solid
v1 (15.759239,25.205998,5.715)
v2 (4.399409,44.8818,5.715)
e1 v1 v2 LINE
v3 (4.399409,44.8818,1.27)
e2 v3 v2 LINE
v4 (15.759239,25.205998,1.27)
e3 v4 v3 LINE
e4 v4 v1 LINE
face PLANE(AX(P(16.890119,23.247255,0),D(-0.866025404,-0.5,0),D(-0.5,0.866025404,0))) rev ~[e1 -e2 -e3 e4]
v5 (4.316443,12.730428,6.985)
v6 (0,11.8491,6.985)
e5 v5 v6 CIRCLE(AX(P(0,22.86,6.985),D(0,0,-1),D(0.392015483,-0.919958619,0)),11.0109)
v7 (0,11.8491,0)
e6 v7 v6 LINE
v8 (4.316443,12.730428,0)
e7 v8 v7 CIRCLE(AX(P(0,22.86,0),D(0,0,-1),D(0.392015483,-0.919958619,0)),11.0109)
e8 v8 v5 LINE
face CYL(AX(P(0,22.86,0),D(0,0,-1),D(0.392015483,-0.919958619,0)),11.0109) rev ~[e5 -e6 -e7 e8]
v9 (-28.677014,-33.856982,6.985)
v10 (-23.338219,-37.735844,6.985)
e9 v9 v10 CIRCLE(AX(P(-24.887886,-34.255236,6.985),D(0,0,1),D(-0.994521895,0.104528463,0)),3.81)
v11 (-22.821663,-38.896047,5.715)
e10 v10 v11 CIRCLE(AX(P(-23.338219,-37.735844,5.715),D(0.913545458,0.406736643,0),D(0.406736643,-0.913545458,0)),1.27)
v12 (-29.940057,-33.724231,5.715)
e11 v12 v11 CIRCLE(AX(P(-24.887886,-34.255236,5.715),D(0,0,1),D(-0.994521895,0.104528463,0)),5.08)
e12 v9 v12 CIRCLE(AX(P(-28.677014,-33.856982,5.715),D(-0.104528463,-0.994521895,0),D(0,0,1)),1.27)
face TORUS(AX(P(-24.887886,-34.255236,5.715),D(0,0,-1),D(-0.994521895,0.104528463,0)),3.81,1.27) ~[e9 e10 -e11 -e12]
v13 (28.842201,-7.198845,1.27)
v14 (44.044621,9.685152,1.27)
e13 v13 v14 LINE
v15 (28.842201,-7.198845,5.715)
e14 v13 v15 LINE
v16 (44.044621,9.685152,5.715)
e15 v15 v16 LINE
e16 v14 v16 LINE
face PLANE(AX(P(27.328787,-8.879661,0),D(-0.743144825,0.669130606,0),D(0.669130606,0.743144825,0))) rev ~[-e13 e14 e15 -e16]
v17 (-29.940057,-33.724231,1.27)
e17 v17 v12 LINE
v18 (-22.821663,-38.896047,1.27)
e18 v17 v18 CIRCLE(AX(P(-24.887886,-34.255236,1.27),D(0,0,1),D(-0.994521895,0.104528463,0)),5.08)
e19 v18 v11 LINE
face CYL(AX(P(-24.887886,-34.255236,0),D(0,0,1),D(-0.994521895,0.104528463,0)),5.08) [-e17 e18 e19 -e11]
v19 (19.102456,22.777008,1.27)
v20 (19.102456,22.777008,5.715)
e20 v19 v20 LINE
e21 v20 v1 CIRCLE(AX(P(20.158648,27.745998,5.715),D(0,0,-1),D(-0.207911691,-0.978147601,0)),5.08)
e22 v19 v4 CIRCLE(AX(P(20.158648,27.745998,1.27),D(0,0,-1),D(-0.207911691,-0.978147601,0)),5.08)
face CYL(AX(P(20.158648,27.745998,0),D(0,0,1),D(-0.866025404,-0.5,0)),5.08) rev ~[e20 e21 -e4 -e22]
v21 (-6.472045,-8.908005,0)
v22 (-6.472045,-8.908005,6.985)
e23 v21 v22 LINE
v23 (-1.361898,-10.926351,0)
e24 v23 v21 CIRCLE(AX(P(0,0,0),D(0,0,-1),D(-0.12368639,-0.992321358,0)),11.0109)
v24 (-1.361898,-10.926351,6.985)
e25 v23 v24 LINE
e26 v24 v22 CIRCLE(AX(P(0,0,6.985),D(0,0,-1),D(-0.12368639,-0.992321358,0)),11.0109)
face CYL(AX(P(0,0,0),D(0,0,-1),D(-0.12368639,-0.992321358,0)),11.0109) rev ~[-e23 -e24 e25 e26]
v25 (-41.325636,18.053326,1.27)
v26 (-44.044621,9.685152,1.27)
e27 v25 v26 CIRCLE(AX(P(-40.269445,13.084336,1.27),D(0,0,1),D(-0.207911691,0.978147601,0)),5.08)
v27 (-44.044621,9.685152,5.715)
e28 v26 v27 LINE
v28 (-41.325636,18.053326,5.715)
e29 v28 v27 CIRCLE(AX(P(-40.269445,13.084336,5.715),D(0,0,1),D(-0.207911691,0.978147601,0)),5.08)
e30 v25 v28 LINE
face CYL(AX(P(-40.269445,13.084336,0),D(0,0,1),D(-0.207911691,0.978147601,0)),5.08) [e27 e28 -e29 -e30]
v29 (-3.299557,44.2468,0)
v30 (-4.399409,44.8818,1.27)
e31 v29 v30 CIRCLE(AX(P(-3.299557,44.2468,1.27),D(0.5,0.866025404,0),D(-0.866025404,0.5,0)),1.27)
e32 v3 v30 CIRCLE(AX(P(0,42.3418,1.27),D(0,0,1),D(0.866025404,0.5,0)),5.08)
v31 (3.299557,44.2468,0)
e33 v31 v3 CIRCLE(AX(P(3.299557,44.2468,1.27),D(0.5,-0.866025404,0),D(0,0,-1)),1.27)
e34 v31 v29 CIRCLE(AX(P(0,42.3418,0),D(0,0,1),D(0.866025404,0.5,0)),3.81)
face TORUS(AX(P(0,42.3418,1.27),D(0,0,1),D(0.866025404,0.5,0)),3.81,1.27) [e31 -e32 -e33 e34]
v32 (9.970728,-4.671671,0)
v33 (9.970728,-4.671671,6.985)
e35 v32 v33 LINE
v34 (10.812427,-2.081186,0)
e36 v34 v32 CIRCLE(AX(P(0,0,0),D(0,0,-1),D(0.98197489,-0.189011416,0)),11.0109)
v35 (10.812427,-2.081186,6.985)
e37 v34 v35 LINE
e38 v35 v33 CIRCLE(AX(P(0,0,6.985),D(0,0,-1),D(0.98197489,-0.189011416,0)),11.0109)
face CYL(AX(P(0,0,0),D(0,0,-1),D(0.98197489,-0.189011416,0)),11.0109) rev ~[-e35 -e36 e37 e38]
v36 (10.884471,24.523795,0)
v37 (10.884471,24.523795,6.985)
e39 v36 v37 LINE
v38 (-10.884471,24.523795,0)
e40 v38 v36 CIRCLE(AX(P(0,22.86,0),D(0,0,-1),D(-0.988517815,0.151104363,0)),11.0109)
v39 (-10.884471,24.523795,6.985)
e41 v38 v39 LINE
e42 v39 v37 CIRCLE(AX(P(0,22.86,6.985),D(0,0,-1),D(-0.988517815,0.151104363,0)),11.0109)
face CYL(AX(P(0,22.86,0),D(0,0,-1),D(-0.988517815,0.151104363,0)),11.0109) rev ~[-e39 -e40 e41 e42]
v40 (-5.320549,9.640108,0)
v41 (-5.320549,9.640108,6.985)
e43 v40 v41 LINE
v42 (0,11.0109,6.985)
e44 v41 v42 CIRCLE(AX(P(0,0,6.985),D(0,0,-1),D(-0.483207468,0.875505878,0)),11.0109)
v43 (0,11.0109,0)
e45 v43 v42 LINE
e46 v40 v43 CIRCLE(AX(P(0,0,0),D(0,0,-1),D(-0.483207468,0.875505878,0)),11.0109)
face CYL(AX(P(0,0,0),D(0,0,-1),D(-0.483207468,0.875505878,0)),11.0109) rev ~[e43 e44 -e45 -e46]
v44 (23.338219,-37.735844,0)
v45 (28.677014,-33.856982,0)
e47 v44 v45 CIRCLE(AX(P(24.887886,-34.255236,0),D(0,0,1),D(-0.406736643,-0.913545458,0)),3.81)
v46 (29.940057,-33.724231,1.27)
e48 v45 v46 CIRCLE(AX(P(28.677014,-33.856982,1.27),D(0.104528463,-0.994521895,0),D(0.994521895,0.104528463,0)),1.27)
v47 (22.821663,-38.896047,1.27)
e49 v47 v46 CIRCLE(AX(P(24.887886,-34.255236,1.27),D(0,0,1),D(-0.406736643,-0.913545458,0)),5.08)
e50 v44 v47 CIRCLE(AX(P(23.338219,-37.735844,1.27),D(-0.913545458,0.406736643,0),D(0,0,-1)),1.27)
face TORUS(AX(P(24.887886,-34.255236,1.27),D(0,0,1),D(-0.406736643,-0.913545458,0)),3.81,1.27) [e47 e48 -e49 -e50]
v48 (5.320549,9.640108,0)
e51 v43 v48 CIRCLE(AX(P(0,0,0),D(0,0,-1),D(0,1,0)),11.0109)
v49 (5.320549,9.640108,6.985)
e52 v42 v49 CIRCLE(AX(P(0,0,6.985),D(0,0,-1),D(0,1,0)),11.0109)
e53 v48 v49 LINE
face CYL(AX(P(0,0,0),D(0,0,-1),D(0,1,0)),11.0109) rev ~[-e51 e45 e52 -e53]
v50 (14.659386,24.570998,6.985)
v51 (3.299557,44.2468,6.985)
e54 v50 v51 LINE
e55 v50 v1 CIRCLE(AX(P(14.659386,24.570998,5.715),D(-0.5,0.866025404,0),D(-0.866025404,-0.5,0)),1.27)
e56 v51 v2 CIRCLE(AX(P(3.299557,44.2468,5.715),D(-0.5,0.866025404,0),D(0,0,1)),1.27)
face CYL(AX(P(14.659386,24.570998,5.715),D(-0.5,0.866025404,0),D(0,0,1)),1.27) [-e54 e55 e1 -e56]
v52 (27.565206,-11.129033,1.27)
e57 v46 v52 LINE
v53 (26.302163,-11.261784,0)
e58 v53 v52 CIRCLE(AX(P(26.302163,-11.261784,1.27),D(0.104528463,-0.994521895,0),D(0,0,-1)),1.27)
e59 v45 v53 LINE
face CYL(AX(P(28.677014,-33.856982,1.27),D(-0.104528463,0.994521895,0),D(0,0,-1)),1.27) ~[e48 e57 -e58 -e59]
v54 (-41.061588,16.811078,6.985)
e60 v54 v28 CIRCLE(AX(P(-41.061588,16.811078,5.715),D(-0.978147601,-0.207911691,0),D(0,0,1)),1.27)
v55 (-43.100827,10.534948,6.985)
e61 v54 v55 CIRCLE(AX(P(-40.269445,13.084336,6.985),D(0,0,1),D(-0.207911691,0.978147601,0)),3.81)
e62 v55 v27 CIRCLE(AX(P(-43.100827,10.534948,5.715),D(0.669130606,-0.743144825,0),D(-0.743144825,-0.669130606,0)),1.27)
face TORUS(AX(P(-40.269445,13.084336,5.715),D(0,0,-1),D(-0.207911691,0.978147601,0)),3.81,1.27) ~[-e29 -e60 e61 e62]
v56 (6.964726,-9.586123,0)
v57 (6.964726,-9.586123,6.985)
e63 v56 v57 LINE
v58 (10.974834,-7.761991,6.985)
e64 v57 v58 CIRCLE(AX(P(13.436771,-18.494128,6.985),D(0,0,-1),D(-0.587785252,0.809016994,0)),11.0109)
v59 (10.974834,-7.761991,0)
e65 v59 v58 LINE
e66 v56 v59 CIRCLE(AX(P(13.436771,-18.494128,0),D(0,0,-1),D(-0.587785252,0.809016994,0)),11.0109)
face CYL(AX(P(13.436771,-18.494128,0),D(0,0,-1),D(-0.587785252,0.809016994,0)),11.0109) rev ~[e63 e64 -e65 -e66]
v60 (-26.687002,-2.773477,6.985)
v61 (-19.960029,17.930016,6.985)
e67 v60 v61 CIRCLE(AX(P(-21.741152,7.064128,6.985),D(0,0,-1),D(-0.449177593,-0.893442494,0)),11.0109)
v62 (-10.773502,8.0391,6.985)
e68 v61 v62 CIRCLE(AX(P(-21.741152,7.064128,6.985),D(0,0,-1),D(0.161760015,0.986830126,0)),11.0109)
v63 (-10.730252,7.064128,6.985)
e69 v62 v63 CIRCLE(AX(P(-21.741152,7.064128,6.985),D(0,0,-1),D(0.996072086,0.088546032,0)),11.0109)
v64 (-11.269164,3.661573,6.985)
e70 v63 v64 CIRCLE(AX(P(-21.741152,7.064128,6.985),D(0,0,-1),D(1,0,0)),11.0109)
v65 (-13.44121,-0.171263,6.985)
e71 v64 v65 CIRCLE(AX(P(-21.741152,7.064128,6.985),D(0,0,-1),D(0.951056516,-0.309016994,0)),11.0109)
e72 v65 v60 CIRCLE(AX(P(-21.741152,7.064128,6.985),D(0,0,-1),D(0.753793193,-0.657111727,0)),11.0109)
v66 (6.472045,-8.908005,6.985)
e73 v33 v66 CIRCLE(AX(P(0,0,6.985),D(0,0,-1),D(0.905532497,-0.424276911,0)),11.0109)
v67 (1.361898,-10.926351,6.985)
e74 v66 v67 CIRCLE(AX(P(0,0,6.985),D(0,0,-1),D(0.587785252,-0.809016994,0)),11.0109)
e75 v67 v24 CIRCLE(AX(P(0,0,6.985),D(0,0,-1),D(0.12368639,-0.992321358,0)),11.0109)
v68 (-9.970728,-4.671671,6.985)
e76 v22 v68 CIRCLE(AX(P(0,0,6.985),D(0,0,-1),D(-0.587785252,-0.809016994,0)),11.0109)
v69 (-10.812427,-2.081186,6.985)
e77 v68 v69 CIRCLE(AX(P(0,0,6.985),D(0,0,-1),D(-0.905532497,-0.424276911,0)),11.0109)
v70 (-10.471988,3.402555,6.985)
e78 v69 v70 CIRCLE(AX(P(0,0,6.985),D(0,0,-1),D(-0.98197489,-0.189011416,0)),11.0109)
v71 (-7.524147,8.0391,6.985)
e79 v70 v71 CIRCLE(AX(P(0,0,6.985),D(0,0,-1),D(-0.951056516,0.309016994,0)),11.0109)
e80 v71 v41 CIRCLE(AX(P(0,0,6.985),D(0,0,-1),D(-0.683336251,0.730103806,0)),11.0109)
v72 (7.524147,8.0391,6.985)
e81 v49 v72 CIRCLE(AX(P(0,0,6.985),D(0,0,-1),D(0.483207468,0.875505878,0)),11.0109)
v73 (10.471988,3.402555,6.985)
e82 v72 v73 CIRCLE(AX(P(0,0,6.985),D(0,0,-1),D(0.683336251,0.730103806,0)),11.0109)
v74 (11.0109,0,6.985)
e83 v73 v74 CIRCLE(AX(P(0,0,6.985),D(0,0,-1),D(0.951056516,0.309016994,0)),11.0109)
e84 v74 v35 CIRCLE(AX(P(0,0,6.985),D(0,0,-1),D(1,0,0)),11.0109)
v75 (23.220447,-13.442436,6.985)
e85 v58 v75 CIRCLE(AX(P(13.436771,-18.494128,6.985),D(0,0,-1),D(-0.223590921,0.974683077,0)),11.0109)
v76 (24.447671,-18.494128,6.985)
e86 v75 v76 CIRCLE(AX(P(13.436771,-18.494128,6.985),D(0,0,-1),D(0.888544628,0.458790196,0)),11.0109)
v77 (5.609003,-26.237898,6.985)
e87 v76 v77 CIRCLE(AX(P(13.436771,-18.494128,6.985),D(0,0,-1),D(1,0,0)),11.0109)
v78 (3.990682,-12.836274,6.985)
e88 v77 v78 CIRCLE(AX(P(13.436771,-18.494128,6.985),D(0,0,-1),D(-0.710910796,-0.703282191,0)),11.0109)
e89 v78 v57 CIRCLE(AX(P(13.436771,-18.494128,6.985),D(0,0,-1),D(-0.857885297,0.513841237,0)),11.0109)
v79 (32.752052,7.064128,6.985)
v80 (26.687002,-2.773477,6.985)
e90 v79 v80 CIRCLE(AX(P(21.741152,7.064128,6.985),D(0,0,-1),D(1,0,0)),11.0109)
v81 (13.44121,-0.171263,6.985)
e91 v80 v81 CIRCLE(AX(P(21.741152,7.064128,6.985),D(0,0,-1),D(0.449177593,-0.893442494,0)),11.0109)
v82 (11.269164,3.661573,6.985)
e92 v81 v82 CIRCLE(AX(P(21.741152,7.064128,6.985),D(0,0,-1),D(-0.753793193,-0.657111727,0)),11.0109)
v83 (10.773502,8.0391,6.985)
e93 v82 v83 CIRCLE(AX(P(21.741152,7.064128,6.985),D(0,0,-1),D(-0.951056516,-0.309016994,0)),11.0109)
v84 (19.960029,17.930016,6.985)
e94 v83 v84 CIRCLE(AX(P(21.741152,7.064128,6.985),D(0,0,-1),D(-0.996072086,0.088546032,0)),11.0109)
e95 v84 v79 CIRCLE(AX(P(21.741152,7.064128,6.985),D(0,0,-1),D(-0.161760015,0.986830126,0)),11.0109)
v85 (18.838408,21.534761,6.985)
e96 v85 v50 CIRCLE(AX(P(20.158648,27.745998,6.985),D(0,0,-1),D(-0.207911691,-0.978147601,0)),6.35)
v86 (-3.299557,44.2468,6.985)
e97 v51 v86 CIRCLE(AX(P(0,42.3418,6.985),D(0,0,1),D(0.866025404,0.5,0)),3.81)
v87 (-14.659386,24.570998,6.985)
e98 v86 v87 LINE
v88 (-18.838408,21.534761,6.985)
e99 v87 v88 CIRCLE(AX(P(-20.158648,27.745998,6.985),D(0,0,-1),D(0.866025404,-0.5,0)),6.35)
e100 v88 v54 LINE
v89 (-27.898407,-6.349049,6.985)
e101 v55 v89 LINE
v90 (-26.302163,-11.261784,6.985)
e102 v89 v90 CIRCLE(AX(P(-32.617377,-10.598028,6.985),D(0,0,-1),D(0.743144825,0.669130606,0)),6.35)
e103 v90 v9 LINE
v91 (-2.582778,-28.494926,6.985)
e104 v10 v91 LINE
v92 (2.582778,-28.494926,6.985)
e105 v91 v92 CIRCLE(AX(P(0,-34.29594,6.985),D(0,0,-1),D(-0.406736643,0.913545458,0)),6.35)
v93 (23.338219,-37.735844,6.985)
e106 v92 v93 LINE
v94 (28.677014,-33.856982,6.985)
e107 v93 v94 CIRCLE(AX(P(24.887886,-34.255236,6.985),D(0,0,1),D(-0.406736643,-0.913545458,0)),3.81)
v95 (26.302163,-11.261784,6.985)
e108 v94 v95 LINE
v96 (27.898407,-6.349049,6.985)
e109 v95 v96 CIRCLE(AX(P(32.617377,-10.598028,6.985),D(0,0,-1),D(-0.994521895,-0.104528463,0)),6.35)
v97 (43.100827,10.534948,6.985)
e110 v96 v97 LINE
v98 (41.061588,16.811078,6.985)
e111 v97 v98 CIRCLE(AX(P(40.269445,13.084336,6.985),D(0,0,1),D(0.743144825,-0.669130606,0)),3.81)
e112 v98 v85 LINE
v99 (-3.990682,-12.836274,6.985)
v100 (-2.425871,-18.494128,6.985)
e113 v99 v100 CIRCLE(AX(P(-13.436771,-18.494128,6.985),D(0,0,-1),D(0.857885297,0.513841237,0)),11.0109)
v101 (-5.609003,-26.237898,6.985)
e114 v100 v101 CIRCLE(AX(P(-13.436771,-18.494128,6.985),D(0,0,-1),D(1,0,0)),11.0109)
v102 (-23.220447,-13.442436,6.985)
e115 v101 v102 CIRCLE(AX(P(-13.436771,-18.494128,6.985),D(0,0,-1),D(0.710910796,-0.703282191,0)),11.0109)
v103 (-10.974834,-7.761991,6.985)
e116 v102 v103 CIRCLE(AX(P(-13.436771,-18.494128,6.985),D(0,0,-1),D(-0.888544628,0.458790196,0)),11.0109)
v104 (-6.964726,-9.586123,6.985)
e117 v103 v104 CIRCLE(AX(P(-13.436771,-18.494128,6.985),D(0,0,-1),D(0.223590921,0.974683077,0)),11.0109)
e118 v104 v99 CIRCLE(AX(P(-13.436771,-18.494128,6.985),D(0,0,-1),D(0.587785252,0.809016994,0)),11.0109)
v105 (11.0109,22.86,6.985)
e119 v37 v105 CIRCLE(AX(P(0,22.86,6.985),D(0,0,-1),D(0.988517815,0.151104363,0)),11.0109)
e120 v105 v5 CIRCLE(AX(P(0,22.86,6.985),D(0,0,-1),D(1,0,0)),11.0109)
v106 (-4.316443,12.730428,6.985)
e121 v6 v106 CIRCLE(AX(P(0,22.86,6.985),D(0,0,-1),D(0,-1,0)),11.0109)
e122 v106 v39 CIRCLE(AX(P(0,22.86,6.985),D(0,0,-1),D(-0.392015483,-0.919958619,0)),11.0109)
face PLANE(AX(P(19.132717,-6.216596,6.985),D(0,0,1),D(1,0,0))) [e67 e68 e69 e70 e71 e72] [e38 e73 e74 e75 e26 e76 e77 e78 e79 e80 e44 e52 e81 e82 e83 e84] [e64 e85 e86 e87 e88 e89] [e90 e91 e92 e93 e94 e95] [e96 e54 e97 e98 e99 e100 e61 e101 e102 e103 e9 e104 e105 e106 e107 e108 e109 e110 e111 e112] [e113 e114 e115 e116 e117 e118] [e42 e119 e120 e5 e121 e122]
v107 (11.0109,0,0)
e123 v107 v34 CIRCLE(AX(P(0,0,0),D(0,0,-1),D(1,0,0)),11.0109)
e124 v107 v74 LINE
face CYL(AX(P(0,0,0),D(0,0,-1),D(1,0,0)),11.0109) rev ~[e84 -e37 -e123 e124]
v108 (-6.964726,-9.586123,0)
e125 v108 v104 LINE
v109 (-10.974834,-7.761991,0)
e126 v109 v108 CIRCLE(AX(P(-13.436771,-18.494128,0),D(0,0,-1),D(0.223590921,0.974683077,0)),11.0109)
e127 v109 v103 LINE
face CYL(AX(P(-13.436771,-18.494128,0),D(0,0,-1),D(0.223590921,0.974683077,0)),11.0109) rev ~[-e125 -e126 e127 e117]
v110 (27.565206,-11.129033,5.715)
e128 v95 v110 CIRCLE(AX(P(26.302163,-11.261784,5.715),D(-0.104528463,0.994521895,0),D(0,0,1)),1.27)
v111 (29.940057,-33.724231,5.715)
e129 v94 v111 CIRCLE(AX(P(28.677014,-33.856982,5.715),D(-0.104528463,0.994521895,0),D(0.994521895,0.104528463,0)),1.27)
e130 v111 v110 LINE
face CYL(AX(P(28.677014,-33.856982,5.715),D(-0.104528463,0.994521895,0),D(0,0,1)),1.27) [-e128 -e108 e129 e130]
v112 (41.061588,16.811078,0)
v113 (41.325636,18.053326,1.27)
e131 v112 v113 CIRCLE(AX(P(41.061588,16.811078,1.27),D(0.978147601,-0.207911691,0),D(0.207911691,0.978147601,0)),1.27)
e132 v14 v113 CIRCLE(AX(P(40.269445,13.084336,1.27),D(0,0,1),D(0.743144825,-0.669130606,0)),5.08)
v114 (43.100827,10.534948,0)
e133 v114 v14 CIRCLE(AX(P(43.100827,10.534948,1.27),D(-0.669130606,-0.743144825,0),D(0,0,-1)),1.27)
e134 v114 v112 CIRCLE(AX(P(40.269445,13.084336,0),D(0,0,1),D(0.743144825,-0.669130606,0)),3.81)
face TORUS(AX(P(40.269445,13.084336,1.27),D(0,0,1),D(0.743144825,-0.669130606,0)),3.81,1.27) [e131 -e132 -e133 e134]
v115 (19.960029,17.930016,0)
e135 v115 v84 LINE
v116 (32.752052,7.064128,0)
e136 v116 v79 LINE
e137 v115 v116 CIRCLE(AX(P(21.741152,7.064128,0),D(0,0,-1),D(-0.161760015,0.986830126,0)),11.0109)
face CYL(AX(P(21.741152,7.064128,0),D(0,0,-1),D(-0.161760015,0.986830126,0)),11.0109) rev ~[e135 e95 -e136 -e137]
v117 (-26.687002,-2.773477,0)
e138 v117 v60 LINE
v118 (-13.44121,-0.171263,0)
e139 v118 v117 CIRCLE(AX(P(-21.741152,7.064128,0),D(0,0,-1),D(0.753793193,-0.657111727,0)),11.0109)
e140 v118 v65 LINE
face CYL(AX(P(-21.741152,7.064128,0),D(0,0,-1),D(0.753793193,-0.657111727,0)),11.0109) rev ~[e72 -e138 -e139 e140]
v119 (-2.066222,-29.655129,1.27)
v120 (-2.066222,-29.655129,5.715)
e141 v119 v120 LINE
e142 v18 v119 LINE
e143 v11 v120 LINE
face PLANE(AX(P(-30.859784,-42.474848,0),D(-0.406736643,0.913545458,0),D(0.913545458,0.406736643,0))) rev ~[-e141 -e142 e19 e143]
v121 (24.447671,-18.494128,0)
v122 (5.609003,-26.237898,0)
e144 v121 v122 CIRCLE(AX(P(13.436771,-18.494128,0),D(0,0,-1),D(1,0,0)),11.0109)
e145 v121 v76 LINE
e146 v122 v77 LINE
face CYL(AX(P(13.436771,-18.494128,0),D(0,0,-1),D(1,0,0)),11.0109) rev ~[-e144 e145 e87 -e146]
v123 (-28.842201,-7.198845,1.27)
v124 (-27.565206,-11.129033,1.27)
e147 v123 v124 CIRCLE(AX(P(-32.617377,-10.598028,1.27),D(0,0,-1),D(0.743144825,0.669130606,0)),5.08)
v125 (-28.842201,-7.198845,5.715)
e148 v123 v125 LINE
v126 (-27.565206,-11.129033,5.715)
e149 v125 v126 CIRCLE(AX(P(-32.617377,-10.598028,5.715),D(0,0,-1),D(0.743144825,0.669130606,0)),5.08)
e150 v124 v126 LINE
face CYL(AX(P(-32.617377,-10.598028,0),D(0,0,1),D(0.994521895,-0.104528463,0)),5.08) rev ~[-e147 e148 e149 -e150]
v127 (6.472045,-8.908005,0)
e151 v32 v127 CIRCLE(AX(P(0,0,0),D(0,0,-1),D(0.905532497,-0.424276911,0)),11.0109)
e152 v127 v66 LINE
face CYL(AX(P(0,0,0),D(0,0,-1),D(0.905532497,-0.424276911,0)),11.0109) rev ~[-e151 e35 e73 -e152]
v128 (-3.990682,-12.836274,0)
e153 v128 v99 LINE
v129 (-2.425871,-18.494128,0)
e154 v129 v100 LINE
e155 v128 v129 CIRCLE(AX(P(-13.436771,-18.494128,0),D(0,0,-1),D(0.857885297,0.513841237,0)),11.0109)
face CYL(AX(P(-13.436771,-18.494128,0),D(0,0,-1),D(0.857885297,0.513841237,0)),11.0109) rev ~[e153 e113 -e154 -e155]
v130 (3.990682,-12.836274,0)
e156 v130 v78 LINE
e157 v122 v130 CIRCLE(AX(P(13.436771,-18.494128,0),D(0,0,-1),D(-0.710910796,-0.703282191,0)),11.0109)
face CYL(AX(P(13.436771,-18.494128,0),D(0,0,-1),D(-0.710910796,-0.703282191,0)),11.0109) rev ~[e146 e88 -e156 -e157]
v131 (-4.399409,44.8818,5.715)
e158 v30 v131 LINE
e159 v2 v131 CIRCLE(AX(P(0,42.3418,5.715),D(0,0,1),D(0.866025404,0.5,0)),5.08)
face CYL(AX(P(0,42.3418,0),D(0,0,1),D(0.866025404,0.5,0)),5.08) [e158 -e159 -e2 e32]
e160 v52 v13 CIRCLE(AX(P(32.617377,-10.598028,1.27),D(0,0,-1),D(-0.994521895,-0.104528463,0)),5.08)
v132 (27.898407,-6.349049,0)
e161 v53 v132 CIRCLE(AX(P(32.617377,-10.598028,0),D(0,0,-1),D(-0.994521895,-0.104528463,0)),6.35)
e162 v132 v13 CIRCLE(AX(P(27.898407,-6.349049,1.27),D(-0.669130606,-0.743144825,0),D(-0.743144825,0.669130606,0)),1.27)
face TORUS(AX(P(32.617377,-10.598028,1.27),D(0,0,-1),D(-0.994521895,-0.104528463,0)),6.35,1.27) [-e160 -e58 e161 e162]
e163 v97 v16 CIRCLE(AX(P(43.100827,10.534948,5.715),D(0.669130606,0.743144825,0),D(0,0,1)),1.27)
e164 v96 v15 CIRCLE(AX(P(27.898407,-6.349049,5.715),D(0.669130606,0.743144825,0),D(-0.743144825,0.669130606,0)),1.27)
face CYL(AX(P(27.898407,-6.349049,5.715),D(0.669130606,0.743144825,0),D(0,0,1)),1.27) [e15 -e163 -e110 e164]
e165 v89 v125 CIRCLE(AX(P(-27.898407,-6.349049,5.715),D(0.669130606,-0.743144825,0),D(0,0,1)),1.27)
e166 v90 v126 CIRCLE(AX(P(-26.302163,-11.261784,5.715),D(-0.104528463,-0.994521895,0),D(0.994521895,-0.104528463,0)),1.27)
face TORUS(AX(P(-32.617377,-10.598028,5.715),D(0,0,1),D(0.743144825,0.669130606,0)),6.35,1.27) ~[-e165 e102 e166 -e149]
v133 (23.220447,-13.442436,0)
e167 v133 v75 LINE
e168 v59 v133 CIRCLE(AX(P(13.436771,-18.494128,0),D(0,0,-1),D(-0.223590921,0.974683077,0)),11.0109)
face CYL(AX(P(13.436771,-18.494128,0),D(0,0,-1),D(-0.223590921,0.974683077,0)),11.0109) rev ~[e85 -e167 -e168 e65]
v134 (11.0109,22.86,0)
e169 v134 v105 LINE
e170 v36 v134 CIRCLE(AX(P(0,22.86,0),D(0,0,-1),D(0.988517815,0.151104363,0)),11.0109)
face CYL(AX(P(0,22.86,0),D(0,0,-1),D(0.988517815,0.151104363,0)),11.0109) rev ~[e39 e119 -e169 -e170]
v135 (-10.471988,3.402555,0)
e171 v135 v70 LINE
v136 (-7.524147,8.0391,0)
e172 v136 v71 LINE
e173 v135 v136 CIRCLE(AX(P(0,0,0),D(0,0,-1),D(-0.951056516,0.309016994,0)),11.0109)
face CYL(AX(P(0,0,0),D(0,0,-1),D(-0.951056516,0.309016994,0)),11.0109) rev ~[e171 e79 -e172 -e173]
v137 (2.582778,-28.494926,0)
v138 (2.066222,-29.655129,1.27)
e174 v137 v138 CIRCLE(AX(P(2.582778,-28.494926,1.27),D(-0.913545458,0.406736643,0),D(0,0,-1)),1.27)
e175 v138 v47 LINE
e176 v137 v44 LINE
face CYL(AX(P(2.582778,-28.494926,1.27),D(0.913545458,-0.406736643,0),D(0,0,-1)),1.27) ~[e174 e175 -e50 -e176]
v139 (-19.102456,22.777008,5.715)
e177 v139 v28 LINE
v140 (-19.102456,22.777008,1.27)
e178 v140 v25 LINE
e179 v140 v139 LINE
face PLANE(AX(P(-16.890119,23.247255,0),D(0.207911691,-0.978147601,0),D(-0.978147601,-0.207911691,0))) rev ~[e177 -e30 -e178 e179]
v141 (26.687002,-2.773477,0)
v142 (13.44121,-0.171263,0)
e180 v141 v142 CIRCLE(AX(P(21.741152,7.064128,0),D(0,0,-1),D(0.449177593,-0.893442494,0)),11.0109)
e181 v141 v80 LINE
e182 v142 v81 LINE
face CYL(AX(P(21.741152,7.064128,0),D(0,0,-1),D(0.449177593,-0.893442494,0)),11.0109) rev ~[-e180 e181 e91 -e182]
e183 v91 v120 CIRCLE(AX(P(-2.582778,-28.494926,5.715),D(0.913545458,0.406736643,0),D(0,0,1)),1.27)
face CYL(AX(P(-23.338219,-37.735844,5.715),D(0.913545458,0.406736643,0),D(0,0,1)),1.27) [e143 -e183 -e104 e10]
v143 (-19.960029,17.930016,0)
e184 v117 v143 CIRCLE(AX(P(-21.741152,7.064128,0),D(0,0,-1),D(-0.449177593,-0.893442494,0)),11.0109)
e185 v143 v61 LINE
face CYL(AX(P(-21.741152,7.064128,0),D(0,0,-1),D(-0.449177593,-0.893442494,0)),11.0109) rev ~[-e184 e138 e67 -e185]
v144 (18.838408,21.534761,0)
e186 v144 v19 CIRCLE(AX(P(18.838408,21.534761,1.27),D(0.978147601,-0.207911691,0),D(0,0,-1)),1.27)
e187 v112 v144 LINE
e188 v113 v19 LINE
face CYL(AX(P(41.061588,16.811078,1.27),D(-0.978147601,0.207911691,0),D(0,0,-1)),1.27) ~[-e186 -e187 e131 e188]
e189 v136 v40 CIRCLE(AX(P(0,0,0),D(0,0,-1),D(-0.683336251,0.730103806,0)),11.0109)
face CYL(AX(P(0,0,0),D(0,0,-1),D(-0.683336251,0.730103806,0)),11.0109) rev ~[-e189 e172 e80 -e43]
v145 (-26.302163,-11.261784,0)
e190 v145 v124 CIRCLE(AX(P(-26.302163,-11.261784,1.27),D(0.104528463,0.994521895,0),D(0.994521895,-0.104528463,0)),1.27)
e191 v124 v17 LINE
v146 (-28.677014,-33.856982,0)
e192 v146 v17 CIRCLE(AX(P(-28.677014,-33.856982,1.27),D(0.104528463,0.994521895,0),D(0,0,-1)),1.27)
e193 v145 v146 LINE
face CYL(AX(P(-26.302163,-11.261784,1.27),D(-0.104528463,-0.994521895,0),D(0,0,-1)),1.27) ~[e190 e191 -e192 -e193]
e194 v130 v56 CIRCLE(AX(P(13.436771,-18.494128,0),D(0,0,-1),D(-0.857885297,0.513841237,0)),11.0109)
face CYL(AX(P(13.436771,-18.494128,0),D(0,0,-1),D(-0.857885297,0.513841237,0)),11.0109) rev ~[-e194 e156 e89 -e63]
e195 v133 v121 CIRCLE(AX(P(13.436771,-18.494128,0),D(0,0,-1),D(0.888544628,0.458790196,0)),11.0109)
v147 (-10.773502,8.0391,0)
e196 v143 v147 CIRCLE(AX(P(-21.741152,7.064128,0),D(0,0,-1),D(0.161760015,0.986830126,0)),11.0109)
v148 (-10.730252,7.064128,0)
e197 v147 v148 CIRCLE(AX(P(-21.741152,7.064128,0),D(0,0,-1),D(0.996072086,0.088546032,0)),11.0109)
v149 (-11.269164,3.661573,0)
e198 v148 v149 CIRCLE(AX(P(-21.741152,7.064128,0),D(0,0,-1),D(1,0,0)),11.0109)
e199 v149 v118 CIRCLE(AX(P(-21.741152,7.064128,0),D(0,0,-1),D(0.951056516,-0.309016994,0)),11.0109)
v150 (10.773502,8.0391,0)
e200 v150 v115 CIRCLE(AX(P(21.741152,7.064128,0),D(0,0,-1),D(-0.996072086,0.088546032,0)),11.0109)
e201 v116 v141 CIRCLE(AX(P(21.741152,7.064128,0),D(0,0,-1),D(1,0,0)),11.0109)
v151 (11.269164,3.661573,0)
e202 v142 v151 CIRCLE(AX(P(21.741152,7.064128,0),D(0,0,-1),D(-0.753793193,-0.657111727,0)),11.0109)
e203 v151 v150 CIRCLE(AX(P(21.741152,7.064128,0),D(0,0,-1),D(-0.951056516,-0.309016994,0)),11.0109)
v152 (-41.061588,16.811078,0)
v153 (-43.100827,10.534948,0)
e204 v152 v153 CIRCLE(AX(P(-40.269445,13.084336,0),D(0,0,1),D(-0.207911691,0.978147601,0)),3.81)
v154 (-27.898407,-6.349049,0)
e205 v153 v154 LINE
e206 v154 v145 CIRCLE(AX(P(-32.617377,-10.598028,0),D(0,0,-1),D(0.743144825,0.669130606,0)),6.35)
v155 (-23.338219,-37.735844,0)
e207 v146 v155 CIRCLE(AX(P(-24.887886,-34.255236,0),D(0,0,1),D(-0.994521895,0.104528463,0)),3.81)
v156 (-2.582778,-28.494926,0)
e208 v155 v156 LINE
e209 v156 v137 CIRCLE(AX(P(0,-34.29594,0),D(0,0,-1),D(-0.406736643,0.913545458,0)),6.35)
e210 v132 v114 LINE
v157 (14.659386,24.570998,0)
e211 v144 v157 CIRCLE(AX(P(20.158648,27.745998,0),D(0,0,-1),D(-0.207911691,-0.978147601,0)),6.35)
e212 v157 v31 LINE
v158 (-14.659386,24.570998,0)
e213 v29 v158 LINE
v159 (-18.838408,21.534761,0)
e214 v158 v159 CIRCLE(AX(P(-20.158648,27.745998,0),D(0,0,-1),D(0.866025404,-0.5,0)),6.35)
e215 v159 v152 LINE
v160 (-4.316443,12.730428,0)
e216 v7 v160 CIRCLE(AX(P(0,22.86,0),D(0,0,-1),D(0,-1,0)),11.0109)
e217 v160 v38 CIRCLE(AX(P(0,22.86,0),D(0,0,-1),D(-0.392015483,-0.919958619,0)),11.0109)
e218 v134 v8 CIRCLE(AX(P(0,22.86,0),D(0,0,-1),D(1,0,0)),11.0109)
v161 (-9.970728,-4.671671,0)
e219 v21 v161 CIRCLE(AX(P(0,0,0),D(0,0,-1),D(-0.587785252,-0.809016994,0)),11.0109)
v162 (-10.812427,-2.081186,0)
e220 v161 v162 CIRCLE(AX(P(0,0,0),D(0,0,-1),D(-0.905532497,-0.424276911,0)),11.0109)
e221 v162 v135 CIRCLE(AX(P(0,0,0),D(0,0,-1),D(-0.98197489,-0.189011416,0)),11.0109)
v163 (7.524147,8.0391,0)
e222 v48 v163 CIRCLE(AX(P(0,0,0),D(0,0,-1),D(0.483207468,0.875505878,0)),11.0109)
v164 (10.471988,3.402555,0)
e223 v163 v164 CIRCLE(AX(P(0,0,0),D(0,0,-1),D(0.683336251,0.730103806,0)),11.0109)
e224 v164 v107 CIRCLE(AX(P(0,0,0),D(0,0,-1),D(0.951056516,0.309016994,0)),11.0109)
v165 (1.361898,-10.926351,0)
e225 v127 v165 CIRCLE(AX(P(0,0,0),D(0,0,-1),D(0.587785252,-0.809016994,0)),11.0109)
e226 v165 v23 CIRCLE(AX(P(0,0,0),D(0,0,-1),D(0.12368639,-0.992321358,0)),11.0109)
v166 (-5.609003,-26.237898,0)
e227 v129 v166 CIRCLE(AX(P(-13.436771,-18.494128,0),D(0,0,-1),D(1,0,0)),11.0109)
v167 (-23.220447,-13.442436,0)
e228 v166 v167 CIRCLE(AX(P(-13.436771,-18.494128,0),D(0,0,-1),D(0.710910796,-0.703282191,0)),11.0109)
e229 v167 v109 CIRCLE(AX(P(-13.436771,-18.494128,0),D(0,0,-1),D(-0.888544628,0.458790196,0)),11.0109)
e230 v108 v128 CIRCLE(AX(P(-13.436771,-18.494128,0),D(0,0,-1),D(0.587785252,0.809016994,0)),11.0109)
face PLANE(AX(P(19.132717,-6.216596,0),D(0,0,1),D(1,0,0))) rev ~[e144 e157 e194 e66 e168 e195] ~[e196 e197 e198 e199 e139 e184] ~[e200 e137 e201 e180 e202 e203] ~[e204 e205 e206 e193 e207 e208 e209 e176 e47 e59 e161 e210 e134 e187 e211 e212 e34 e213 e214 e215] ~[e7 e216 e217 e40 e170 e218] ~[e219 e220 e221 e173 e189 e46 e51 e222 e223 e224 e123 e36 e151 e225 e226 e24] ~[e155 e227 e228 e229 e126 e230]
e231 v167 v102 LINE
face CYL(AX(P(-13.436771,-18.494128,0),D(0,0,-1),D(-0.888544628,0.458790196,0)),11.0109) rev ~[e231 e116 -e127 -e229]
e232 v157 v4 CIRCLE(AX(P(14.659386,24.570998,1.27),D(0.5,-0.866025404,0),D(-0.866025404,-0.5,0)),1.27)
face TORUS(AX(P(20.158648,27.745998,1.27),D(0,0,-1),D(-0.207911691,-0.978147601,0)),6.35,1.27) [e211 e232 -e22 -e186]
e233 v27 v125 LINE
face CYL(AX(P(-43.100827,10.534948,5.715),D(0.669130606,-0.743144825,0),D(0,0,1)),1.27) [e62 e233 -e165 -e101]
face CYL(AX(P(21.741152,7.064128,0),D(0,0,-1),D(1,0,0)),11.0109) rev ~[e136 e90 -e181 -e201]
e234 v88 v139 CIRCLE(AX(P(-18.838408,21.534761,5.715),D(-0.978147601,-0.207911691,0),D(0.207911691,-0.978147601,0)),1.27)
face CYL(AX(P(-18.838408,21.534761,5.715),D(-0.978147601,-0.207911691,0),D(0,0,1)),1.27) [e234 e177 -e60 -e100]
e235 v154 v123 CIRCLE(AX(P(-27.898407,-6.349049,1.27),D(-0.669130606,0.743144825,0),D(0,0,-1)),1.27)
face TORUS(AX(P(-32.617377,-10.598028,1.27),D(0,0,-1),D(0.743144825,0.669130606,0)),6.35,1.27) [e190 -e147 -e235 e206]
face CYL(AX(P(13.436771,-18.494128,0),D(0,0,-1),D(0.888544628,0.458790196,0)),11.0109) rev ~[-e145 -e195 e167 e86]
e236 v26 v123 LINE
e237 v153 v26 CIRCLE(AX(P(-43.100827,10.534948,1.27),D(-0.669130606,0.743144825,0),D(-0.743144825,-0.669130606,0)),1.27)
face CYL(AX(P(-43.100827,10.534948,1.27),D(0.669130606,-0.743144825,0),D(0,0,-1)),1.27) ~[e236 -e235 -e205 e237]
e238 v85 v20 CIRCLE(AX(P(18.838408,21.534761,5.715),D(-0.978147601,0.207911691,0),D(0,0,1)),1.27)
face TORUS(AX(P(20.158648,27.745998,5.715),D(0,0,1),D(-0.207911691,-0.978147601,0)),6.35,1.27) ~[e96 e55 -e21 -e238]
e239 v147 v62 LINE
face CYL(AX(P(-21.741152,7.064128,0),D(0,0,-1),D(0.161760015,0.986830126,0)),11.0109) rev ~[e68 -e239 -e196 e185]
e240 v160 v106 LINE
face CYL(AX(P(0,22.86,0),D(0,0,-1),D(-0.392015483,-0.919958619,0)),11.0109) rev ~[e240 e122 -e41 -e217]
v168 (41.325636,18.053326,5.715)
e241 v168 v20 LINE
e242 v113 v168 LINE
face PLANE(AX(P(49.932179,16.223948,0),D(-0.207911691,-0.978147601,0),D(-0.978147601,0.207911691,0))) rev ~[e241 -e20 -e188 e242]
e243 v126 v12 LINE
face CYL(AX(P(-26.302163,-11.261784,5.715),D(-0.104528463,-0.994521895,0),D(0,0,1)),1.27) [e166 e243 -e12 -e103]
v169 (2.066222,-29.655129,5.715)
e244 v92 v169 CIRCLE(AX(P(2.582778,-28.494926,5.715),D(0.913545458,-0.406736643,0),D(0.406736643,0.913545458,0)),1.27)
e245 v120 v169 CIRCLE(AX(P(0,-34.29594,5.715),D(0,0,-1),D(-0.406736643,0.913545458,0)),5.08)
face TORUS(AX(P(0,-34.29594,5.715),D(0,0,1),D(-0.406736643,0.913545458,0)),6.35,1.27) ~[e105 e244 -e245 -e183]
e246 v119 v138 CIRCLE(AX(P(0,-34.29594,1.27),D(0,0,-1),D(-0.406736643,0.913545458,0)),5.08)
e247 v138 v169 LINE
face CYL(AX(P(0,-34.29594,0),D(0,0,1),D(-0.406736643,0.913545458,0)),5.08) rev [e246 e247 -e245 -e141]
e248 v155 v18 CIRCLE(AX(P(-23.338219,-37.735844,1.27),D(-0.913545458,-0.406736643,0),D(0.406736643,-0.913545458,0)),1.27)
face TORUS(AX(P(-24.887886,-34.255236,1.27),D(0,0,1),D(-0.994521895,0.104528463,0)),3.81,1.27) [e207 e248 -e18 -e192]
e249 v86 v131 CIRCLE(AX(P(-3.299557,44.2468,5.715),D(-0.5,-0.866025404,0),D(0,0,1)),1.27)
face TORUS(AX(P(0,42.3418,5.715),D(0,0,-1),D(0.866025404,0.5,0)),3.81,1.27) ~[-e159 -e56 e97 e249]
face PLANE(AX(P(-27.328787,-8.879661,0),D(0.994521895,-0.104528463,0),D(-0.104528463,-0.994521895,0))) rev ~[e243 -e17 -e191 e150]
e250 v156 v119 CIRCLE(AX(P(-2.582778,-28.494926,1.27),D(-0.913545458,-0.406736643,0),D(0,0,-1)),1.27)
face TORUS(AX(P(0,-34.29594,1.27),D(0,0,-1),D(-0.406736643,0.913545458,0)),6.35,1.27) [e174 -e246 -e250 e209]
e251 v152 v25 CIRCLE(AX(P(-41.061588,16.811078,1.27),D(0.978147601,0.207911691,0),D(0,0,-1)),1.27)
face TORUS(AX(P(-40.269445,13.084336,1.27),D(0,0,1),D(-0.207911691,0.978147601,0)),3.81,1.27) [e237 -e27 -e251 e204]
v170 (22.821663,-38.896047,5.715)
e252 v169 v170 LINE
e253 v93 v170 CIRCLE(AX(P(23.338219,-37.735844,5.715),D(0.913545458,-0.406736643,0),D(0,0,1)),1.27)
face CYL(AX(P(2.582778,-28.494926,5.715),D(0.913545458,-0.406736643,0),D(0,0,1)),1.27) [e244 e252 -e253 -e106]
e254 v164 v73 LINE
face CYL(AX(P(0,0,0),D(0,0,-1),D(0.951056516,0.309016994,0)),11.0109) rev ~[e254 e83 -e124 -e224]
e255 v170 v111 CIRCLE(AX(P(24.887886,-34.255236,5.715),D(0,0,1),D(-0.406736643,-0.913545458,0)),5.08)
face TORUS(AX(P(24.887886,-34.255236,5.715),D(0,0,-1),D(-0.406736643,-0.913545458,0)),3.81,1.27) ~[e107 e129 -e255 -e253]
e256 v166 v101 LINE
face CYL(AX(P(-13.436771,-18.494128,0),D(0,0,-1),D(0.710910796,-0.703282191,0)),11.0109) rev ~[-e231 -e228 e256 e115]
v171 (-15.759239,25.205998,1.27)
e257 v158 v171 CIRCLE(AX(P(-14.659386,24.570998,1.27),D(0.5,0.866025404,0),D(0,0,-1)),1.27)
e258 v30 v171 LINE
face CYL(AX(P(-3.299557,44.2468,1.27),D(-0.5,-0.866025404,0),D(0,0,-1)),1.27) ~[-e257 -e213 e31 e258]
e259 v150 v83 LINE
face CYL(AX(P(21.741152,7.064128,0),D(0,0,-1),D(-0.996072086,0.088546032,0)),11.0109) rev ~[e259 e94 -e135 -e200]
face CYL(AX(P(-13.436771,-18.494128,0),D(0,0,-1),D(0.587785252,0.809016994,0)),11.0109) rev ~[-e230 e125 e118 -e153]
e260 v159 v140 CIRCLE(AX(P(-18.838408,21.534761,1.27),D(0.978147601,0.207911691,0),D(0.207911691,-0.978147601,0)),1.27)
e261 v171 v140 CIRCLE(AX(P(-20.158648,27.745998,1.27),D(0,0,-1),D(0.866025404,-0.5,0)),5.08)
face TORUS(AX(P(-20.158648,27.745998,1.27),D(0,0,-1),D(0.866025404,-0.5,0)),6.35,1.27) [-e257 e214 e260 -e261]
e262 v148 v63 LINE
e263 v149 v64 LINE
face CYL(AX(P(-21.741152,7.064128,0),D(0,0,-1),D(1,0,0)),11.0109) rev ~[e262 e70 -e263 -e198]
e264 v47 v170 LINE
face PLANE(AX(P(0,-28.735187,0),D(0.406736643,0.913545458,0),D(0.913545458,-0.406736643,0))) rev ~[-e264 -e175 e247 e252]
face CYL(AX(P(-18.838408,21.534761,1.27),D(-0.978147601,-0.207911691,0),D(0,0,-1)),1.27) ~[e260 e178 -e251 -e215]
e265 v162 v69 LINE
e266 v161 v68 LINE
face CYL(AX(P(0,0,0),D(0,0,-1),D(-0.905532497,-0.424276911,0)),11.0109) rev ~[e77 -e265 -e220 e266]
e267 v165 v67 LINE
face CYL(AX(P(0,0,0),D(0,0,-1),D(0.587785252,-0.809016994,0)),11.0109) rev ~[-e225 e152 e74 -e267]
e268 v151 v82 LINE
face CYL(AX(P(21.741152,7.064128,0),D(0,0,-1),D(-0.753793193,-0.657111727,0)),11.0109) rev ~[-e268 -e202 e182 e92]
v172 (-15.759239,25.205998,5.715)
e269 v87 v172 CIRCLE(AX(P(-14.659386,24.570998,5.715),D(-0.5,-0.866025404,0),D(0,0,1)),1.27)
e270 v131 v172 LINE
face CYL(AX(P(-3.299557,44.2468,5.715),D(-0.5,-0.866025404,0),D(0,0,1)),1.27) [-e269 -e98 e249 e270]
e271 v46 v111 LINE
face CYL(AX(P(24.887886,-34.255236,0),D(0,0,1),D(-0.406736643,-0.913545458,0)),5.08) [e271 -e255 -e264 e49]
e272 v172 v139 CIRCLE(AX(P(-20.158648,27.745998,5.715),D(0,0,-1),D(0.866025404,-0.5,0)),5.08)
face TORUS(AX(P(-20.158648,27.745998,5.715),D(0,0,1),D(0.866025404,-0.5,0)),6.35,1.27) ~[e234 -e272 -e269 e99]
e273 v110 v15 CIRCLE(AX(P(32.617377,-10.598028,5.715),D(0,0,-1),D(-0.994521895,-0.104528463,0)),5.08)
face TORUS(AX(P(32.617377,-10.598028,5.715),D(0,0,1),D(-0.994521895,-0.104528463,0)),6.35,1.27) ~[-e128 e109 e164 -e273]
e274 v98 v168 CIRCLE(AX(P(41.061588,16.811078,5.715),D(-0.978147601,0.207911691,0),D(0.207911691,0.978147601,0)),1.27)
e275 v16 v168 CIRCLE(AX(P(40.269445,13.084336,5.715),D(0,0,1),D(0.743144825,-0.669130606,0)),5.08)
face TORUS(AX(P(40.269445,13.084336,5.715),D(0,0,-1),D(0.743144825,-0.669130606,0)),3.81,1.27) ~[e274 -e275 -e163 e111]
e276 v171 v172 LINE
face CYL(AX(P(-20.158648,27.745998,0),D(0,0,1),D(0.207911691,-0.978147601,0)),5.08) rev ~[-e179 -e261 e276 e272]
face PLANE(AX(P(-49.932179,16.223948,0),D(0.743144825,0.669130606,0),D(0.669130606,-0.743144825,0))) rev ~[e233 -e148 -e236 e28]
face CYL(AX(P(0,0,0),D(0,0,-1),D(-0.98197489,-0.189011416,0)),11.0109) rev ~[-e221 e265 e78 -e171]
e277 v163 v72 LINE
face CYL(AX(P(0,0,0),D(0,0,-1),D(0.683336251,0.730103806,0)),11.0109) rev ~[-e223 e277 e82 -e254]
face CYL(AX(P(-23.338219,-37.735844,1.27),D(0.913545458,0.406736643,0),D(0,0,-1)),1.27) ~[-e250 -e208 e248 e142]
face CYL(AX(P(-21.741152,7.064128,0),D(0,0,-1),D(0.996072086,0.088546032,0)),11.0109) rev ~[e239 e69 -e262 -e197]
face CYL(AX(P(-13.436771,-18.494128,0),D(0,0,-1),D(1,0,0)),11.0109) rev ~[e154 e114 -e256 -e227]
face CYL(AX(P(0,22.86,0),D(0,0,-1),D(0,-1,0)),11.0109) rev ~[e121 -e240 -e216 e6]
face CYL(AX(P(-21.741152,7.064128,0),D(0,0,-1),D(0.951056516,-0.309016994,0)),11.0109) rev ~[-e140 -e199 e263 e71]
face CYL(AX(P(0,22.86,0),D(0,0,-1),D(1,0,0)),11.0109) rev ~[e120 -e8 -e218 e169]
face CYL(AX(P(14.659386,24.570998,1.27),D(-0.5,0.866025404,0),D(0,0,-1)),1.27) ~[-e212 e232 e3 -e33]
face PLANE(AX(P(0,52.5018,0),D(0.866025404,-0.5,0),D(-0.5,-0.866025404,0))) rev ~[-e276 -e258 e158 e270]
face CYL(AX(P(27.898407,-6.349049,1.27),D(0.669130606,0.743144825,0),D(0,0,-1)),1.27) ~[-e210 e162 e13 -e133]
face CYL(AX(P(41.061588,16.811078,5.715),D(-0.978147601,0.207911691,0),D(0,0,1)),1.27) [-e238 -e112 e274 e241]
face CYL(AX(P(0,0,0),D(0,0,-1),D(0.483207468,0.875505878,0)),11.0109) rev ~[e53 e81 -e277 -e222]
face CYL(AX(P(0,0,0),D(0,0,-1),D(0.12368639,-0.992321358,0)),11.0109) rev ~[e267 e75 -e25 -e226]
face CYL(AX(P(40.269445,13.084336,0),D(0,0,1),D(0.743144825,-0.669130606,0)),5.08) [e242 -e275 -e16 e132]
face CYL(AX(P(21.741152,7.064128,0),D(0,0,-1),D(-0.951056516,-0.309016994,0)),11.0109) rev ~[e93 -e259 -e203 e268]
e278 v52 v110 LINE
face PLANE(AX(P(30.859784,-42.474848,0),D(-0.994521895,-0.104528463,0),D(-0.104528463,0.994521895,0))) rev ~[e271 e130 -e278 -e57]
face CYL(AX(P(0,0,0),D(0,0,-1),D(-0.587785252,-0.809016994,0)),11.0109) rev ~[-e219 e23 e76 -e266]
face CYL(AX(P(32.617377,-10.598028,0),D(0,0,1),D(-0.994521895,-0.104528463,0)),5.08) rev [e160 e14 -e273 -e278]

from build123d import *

# Parameters (mm, degrees)
F1_DEPTH = 6.985
F2_R     = 5.08
F3_R     = 5.08
F4_R     = 1.27
F5_R     = 1.27


with BuildPart() as f1:
    # F0 (on Top) → F1 (new body)
    with BuildSketch(Plane.XY):
        with BuildLine():
            Line((13.4412104934, -0.1712630266), (10.8124273162, -2.0811858017))
            ThreePointArc((10.8124273162, -2.0811858017), (10.4719881953, -3.4025552234), (9.9707277708, -4.6716706359))
            Line((9.9707277708, -4.6716706359), (10.9748335954, -7.7619906019))
            ThreePointArc((10.9748335954, -7.7619906019), (18.0702175637, -8.5055805227), (23.2204469124, -13.442435522))
            Line((23.2204469124, -13.442435522), (27.3287873031, -8.8796612689))
            Line((27.3287873031, -8.8796612689), (26.6870015238, -2.7734774636))
            ThreePointArc((26.6870015238, -2.7734774636), (19.6185678945, -3.7402481997), (13.4412104934, -0.1712630266))
        make_face()
        with BuildLine():
            ThreePointArc((5.3205491095, 9.6401076749), (6.4720446345, 8.9080052234), (7.5241471277, 8.0391))
            Line((7.5241471277, 8.0391), (10.7735018328, 8.0391))
            ThreePointArc((10.7735018328, 8.0391), (13.6732921003, 14.5574292363), (19.960028611, 17.9300163252))
            Line((19.960028611, 17.9300163252), (16.8901194246, 23.2472550106))
            Line((16.8901194246, 23.2472550106), (10.8844708144, 24.5237950298))
            ThreePointArc((10.8844708144, 24.5237950298), (10.9792472078, 23.6942958469), (11.0109, 22.86))
            ThreePointArc((11.0109, 22.86), (9.1860721795, 16.789086006), (4.3164432849, 12.7304276409))
            Line((4.3164432849, 12.7304276409), (5.3205491095, 9.6401076749))
        make_face()
        with BuildLine():
            ThreePointArc((32.7520519625, 7.0641284914), (31.1139363339, 1.2856484198), (26.6870015238, -2.7734774636))
            Line((26.6870015238, -2.7734774636), (27.3287873031, -8.8796612689))
            Line((27.3287873031, -8.8796612689), (49.9321790072, 16.2239484353))
            Line((49.9321790072, 16.2239484353), (16.8901194246, 23.2472550106))
            Line((16.8901194246, 23.2472550106), (19.960028611, 17.9300163252))
            ThreePointArc((19.960028611, 17.9300163252), (28.869551071, 15.4561392731), (32.7520519625, 7.0641284914))
        make_face()
        with BuildLine():
            Line((3.99068165, -12.8362740124), (1.3618984728, -10.9263512372))
            ThreePointArc((1.3618984728, -10.9263512372), (0, -11.0109), (-1.3618984728, -10.9263512372))
            Line((-1.3618984728, -10.9263512372), (-3.99068165, -12.8362740124))
            ThreePointArc((-3.99068165, -12.8362740124), (-2.8242814664, -15.5589985926), (-2.4258708674, -18.4941284914))
            ThreePointArc((-2.4258708674, -18.4941284914), (-3.2526978614, -22.6803649657), (-5.6090031852, -26.2378983694))
            Line((-5.6090031852, -26.2378983694), (0, -28.7351874834))
            Line((0, -28.7351874834), (5.6090031852, -26.2378983694))
            ThreePointArc((5.6090031852, -26.2378983694), (2.5052834618, -19.8141670934), (3.99068165, -12.8362740124))
        make_face()
        with BuildLine():
            Line((27.3287873031, -8.8796612689), (23.2204469124, -13.442435522))
            ThreePointArc((23.2204469124, -13.442435522), (24.1364670634, -15.8948170204), (24.4476708674, -18.4941284914))
            ThreePointArc((24.4476708674, -18.4941284914), (17.6230073417, -28.6782014974), (5.6090031852, -26.2378983694))
            Line((5.6090031852, -26.2378983694), (0, -28.7351874834))
            Line((0, -28.7351874834), (30.8597837588, -42.4748484353))
            Line((30.8597837588, -42.4748484353), (27.3287873031, -8.8796612689))
        make_face()
        with BuildLine():
            ThreePointArc((-7.5241471277, 8.0391), (-6.4720446345, 8.9080052234), (-5.3205491095, 9.6401076749))
            Line((-5.3205491095, 9.6401076749), (-4.3164432849, 12.7304276409))
            ThreePointArc((-4.3164432849, 12.7304276409), (-9.6196583076, 17.5025665796), (-10.8844708144, 24.5237950298))
            Line((-10.8844708144, 24.5237950298), (-16.8901194246, 23.2472550106))
            Line((-16.8901194246, 23.2472550106), (-19.960028611, 17.9300163252))
            ThreePointArc((-19.960028611, 17.9300163252), (-13.6732921003, 14.5574292363), (-10.7735018328, 8.0391))
            Line((-10.7735018328, 8.0391), (-7.5241471277, 8.0391))
        make_face()
        with BuildLine():
            Line((10.8844708144, 24.5237950298), (16.8901194246, 23.2472550106))
            Line((16.8901194246, 23.2472550106), (0, 52.5018))
            Line((0, 52.5018), (-16.8901194246, 23.2472550106))
            Line((-16.8901194246, 23.2472550106), (-10.8844708144, 24.5237950298))
            ThreePointArc((-10.8844708144, 24.5237950298), (0, 33.8709), (10.8844708144, 24.5237950298))
        make_face()
        with BuildLine():
            Line((-10.9748335954, -7.7619906019), (-9.9707277708, -4.6716706359))
            ThreePointArc((-9.9707277708, -4.6716706359), (-10.4719881953, -3.4025552234), (-10.8124273162, -2.0811858017))
            Line((-10.8124273162, -2.0811858017), (-13.4412104934, -0.1712630266))
            ThreePointArc((-13.4412104934, -0.1712630266), (-19.6185678945, -3.7402481997), (-26.6870015238, -2.7734774636))
            Line((-26.6870015238, -2.7734774636), (-27.3287873031, -8.8796612689))
            Line((-27.3287873031, -8.8796612689), (-23.2204469124, -13.442435522))
            ThreePointArc((-23.2204469124, -13.442435522), (-18.0702175637, -8.5055805227), (-10.9748335954, -7.7619906019))
        make_face()
        with BuildLine():
            Line((-30.8597837588, -42.4748484353), (0, -28.7351874834))
            Line((0, -28.7351874834), (-5.6090031852, -26.2378983694))
            ThreePointArc((-5.6090031852, -26.2378983694), (-19.9088155019, -27.4021337148), (-23.2204469124, -13.442435522))
            Line((-23.2204469124, -13.442435522), (-27.3287873031, -8.8796612689))
            Line((-27.3287873031, -8.8796612689), (-30.8597837588, -42.4748484353))
        make_face()
        with BuildLine():
            Line((-19.960028611, 17.9300163252), (-16.8901194246, 23.2472550106))
            Line((-16.8901194246, 23.2472550106), (-49.9321790072, 16.2239484353))
            Line((-49.9321790072, 16.2239484353), (-27.3287873031, -8.8796612689))
            Line((-27.3287873031, -8.8796612689), (-26.6870015238, -2.7734774636))
            ThreePointArc((-26.6870015238, -2.7734774636), (-32.2131401578, 10.4666837148), (-19.960028611, 17.9300163252))
        make_face()
        with BuildLine():
            Line((-11.2691637672, 3.661573268), (-10.4719881953, 3.4025552234))
            ThreePointArc((-10.4719881953, 3.4025552234), (-9.291910918, 5.9076484579), (-7.5241471277, 8.0391))
            Line((-7.5241471277, 8.0391), (-10.7735018328, 8.0391))
            ThreePointArc((-10.7735018328, 8.0391), (-10.7410697441, 7.5520936525), (-10.7302519625, 7.0641284914))
            ThreePointArc((-10.7302519625, 7.0641284914), (-10.865814413, 5.3416442403), (-11.2691637672, 3.661573268))
        make_face()
        with BuildLine():
            ThreePointArc((-10.8124273162, -2.0811858017), (-10.9897424822, 0.6822602039), (-10.4719881953, 3.4025552234))
            Line((-10.4719881953, 3.4025552234), (-11.2691637672, 3.661573268))
            ThreePointArc((-11.2691637672, 3.661573268), (-12.1615384867, 1.6354155258), (-13.4412104934, -0.1712630266))
            Line((-13.4412104934, -0.1712630266), (-10.8124273162, -2.0811858017))
        make_face()
        with BuildLine():
            ThreePointArc((-1.3618984728, -10.9263512372), (-4.0448852036, -10.2410362025), (-6.4720446345, -8.9080052234))
            Line((-6.4720446345, -8.9080052234), (-6.9647262329, -9.586123268))
            ThreePointArc((-6.9647262329, -9.586123268), (-5.3134946628, -11.0609392356), (-3.99068165, -12.8362740124))
            Line((-3.99068165, -12.8362740124), (-1.3618984728, -10.9263512372))
        make_face()
        with BuildLine():
            Line((-6.9647262329, -9.586123268), (-6.4720446345, -8.9080052234))
            ThreePointArc((-6.4720446345, -8.9080052234), (-8.4898659458, -7.0115686571), (-9.9707277708, -4.6716706359))
            Line((-9.9707277708, -4.6716706359), (-10.9748335954, -7.7619906019))
            ThreePointArc((-10.9748335954, -7.7619906019), (-8.877618186, -8.4714519209), (-6.9647262329, -9.586123268))
        make_face()
        with BuildLine():
            Line((10.9748335954, -7.7619906019), (9.9707277708, -4.6716706359))
            ThreePointArc((9.9707277708, -4.6716706359), (8.4898659458, -7.0115686571), (6.4720446345, -8.9080052234))
            Line((6.4720446345, -8.9080052234), (6.9647262329, -9.586123268))
            ThreePointArc((6.9647262329, -9.586123268), (8.877618186, -8.4714519209), (10.9748335954, -7.7619906019))
        make_face()
        with BuildLine():
            Line((6.9647262329, -9.586123268), (6.4720446345, -8.9080052234))
            ThreePointArc((6.4720446345, -8.9080052234), (4.0448852036, -10.2410362025), (1.3618984728, -10.9263512372))
            Line((1.3618984728, -10.9263512372), (3.99068165, -12.8362740124))
            ThreePointArc((3.99068165, -12.8362740124), (5.3134946628, -11.0609392356), (6.9647262329, -9.586123268))
        make_face()
        with BuildLine():
            ThreePointArc((10.4719881953, 3.4025552234), (10.8753375495, 1.7224842511), (11.0109, 0))
            ThreePointArc((11.0109, 0), (10.9611695258, -1.0453140374), (10.8124273162, -2.0811858017))
            Line((10.8124273162, -2.0811858017), (13.4412104934, -0.1712630266))
            ThreePointArc((13.4412104934, -0.1712630266), (12.1615384867, 1.6354155258), (11.2691637672, 3.661573268))
            Line((11.2691637672, 3.661573268), (10.4719881953, 3.4025552234))
        make_face()
        with BuildLine():
            ThreePointArc((7.5241471277, 8.0391), (9.291910918, 5.9076484579), (10.4719881953, 3.4025552234))
            Line((10.4719881953, 3.4025552234), (11.2691637672, 3.661573268))
            ThreePointArc((11.2691637672, 3.661573268), (10.8001644409, 5.8252940144), (10.7735018328, 8.0391))
            Line((10.7735018328, 8.0391), (7.5241471277, 8.0391))
        make_face()
        with BuildLine():
            ThreePointArc((0, 11.0109), (2.747149178, 10.6626961977), (5.3205491095, 9.6401076749))
            Line((5.3205491095, 9.6401076749), (4.3164432849, 12.7304276409))
            ThreePointArc((4.3164432849, 12.7304276409), (2.2027494775, 12.0716816162), (0, 11.8491))
            Line((0, 11.8491), (0, 11.0109))
        make_face()
        with BuildLine():
            ThreePointArc((-5.3205491095, 9.6401076749), (-2.747149178, 10.6626961977), (0, 11.0109))
            Line((0, 11.0109), (0, 11.8491))
            ThreePointArc((0, 11.8491), (-2.2027494775, 12.0716816162), (-4.3164432849, 12.7304276409))
            Line((-4.3164432849, 12.7304276409), (-5.3205491095, 9.6401076749))
        make_face()
    extrude(amount=F1_DEPTH)

    # F2
    f2_edges = [f1.edges().sort_by_distance(p)[0] for p in [
        (-49.932179, 16.223948, 3.4925),
        (0, 52.5018, 3.4925),
        (49.932179, 16.223948, 3.4925),
        (30.859784, -42.474848, 3.4925),
        (-30.859784, -42.474848, 3.4925),
    ]]
    fillet(f2_edges, radius=F2_R)

    # F3
    f3_edges = [f1.edges().sort_by_distance(p)[0] for p in [
        (-16.890119, 23.247255, 3.4925),
        (16.890119, 23.247255, 3.4925),
        (27.328787, -8.879661, 3.4925),
        (0, -28.735187, 3.4925),
        (-27.328787, -8.879661, 3.4925),
    ]]
    fillet(f3_edges, radius=F3_R)

    # F4
    f4_edges = [f1.edges().sort_by_distance(p)[0] for p in [
        (12.443943, -34.275588, 0),
    ]]
    fillet(f4_edges, radius=F4_R)

    # F5
    f5_edges = [f1.edges().sort_by_distance(p)[0] for p in [
        (-10.079324, 35.043899, 6.985),
    ]]
    fillet(f5_edges, radius=F5_R)


solid = f1.part
